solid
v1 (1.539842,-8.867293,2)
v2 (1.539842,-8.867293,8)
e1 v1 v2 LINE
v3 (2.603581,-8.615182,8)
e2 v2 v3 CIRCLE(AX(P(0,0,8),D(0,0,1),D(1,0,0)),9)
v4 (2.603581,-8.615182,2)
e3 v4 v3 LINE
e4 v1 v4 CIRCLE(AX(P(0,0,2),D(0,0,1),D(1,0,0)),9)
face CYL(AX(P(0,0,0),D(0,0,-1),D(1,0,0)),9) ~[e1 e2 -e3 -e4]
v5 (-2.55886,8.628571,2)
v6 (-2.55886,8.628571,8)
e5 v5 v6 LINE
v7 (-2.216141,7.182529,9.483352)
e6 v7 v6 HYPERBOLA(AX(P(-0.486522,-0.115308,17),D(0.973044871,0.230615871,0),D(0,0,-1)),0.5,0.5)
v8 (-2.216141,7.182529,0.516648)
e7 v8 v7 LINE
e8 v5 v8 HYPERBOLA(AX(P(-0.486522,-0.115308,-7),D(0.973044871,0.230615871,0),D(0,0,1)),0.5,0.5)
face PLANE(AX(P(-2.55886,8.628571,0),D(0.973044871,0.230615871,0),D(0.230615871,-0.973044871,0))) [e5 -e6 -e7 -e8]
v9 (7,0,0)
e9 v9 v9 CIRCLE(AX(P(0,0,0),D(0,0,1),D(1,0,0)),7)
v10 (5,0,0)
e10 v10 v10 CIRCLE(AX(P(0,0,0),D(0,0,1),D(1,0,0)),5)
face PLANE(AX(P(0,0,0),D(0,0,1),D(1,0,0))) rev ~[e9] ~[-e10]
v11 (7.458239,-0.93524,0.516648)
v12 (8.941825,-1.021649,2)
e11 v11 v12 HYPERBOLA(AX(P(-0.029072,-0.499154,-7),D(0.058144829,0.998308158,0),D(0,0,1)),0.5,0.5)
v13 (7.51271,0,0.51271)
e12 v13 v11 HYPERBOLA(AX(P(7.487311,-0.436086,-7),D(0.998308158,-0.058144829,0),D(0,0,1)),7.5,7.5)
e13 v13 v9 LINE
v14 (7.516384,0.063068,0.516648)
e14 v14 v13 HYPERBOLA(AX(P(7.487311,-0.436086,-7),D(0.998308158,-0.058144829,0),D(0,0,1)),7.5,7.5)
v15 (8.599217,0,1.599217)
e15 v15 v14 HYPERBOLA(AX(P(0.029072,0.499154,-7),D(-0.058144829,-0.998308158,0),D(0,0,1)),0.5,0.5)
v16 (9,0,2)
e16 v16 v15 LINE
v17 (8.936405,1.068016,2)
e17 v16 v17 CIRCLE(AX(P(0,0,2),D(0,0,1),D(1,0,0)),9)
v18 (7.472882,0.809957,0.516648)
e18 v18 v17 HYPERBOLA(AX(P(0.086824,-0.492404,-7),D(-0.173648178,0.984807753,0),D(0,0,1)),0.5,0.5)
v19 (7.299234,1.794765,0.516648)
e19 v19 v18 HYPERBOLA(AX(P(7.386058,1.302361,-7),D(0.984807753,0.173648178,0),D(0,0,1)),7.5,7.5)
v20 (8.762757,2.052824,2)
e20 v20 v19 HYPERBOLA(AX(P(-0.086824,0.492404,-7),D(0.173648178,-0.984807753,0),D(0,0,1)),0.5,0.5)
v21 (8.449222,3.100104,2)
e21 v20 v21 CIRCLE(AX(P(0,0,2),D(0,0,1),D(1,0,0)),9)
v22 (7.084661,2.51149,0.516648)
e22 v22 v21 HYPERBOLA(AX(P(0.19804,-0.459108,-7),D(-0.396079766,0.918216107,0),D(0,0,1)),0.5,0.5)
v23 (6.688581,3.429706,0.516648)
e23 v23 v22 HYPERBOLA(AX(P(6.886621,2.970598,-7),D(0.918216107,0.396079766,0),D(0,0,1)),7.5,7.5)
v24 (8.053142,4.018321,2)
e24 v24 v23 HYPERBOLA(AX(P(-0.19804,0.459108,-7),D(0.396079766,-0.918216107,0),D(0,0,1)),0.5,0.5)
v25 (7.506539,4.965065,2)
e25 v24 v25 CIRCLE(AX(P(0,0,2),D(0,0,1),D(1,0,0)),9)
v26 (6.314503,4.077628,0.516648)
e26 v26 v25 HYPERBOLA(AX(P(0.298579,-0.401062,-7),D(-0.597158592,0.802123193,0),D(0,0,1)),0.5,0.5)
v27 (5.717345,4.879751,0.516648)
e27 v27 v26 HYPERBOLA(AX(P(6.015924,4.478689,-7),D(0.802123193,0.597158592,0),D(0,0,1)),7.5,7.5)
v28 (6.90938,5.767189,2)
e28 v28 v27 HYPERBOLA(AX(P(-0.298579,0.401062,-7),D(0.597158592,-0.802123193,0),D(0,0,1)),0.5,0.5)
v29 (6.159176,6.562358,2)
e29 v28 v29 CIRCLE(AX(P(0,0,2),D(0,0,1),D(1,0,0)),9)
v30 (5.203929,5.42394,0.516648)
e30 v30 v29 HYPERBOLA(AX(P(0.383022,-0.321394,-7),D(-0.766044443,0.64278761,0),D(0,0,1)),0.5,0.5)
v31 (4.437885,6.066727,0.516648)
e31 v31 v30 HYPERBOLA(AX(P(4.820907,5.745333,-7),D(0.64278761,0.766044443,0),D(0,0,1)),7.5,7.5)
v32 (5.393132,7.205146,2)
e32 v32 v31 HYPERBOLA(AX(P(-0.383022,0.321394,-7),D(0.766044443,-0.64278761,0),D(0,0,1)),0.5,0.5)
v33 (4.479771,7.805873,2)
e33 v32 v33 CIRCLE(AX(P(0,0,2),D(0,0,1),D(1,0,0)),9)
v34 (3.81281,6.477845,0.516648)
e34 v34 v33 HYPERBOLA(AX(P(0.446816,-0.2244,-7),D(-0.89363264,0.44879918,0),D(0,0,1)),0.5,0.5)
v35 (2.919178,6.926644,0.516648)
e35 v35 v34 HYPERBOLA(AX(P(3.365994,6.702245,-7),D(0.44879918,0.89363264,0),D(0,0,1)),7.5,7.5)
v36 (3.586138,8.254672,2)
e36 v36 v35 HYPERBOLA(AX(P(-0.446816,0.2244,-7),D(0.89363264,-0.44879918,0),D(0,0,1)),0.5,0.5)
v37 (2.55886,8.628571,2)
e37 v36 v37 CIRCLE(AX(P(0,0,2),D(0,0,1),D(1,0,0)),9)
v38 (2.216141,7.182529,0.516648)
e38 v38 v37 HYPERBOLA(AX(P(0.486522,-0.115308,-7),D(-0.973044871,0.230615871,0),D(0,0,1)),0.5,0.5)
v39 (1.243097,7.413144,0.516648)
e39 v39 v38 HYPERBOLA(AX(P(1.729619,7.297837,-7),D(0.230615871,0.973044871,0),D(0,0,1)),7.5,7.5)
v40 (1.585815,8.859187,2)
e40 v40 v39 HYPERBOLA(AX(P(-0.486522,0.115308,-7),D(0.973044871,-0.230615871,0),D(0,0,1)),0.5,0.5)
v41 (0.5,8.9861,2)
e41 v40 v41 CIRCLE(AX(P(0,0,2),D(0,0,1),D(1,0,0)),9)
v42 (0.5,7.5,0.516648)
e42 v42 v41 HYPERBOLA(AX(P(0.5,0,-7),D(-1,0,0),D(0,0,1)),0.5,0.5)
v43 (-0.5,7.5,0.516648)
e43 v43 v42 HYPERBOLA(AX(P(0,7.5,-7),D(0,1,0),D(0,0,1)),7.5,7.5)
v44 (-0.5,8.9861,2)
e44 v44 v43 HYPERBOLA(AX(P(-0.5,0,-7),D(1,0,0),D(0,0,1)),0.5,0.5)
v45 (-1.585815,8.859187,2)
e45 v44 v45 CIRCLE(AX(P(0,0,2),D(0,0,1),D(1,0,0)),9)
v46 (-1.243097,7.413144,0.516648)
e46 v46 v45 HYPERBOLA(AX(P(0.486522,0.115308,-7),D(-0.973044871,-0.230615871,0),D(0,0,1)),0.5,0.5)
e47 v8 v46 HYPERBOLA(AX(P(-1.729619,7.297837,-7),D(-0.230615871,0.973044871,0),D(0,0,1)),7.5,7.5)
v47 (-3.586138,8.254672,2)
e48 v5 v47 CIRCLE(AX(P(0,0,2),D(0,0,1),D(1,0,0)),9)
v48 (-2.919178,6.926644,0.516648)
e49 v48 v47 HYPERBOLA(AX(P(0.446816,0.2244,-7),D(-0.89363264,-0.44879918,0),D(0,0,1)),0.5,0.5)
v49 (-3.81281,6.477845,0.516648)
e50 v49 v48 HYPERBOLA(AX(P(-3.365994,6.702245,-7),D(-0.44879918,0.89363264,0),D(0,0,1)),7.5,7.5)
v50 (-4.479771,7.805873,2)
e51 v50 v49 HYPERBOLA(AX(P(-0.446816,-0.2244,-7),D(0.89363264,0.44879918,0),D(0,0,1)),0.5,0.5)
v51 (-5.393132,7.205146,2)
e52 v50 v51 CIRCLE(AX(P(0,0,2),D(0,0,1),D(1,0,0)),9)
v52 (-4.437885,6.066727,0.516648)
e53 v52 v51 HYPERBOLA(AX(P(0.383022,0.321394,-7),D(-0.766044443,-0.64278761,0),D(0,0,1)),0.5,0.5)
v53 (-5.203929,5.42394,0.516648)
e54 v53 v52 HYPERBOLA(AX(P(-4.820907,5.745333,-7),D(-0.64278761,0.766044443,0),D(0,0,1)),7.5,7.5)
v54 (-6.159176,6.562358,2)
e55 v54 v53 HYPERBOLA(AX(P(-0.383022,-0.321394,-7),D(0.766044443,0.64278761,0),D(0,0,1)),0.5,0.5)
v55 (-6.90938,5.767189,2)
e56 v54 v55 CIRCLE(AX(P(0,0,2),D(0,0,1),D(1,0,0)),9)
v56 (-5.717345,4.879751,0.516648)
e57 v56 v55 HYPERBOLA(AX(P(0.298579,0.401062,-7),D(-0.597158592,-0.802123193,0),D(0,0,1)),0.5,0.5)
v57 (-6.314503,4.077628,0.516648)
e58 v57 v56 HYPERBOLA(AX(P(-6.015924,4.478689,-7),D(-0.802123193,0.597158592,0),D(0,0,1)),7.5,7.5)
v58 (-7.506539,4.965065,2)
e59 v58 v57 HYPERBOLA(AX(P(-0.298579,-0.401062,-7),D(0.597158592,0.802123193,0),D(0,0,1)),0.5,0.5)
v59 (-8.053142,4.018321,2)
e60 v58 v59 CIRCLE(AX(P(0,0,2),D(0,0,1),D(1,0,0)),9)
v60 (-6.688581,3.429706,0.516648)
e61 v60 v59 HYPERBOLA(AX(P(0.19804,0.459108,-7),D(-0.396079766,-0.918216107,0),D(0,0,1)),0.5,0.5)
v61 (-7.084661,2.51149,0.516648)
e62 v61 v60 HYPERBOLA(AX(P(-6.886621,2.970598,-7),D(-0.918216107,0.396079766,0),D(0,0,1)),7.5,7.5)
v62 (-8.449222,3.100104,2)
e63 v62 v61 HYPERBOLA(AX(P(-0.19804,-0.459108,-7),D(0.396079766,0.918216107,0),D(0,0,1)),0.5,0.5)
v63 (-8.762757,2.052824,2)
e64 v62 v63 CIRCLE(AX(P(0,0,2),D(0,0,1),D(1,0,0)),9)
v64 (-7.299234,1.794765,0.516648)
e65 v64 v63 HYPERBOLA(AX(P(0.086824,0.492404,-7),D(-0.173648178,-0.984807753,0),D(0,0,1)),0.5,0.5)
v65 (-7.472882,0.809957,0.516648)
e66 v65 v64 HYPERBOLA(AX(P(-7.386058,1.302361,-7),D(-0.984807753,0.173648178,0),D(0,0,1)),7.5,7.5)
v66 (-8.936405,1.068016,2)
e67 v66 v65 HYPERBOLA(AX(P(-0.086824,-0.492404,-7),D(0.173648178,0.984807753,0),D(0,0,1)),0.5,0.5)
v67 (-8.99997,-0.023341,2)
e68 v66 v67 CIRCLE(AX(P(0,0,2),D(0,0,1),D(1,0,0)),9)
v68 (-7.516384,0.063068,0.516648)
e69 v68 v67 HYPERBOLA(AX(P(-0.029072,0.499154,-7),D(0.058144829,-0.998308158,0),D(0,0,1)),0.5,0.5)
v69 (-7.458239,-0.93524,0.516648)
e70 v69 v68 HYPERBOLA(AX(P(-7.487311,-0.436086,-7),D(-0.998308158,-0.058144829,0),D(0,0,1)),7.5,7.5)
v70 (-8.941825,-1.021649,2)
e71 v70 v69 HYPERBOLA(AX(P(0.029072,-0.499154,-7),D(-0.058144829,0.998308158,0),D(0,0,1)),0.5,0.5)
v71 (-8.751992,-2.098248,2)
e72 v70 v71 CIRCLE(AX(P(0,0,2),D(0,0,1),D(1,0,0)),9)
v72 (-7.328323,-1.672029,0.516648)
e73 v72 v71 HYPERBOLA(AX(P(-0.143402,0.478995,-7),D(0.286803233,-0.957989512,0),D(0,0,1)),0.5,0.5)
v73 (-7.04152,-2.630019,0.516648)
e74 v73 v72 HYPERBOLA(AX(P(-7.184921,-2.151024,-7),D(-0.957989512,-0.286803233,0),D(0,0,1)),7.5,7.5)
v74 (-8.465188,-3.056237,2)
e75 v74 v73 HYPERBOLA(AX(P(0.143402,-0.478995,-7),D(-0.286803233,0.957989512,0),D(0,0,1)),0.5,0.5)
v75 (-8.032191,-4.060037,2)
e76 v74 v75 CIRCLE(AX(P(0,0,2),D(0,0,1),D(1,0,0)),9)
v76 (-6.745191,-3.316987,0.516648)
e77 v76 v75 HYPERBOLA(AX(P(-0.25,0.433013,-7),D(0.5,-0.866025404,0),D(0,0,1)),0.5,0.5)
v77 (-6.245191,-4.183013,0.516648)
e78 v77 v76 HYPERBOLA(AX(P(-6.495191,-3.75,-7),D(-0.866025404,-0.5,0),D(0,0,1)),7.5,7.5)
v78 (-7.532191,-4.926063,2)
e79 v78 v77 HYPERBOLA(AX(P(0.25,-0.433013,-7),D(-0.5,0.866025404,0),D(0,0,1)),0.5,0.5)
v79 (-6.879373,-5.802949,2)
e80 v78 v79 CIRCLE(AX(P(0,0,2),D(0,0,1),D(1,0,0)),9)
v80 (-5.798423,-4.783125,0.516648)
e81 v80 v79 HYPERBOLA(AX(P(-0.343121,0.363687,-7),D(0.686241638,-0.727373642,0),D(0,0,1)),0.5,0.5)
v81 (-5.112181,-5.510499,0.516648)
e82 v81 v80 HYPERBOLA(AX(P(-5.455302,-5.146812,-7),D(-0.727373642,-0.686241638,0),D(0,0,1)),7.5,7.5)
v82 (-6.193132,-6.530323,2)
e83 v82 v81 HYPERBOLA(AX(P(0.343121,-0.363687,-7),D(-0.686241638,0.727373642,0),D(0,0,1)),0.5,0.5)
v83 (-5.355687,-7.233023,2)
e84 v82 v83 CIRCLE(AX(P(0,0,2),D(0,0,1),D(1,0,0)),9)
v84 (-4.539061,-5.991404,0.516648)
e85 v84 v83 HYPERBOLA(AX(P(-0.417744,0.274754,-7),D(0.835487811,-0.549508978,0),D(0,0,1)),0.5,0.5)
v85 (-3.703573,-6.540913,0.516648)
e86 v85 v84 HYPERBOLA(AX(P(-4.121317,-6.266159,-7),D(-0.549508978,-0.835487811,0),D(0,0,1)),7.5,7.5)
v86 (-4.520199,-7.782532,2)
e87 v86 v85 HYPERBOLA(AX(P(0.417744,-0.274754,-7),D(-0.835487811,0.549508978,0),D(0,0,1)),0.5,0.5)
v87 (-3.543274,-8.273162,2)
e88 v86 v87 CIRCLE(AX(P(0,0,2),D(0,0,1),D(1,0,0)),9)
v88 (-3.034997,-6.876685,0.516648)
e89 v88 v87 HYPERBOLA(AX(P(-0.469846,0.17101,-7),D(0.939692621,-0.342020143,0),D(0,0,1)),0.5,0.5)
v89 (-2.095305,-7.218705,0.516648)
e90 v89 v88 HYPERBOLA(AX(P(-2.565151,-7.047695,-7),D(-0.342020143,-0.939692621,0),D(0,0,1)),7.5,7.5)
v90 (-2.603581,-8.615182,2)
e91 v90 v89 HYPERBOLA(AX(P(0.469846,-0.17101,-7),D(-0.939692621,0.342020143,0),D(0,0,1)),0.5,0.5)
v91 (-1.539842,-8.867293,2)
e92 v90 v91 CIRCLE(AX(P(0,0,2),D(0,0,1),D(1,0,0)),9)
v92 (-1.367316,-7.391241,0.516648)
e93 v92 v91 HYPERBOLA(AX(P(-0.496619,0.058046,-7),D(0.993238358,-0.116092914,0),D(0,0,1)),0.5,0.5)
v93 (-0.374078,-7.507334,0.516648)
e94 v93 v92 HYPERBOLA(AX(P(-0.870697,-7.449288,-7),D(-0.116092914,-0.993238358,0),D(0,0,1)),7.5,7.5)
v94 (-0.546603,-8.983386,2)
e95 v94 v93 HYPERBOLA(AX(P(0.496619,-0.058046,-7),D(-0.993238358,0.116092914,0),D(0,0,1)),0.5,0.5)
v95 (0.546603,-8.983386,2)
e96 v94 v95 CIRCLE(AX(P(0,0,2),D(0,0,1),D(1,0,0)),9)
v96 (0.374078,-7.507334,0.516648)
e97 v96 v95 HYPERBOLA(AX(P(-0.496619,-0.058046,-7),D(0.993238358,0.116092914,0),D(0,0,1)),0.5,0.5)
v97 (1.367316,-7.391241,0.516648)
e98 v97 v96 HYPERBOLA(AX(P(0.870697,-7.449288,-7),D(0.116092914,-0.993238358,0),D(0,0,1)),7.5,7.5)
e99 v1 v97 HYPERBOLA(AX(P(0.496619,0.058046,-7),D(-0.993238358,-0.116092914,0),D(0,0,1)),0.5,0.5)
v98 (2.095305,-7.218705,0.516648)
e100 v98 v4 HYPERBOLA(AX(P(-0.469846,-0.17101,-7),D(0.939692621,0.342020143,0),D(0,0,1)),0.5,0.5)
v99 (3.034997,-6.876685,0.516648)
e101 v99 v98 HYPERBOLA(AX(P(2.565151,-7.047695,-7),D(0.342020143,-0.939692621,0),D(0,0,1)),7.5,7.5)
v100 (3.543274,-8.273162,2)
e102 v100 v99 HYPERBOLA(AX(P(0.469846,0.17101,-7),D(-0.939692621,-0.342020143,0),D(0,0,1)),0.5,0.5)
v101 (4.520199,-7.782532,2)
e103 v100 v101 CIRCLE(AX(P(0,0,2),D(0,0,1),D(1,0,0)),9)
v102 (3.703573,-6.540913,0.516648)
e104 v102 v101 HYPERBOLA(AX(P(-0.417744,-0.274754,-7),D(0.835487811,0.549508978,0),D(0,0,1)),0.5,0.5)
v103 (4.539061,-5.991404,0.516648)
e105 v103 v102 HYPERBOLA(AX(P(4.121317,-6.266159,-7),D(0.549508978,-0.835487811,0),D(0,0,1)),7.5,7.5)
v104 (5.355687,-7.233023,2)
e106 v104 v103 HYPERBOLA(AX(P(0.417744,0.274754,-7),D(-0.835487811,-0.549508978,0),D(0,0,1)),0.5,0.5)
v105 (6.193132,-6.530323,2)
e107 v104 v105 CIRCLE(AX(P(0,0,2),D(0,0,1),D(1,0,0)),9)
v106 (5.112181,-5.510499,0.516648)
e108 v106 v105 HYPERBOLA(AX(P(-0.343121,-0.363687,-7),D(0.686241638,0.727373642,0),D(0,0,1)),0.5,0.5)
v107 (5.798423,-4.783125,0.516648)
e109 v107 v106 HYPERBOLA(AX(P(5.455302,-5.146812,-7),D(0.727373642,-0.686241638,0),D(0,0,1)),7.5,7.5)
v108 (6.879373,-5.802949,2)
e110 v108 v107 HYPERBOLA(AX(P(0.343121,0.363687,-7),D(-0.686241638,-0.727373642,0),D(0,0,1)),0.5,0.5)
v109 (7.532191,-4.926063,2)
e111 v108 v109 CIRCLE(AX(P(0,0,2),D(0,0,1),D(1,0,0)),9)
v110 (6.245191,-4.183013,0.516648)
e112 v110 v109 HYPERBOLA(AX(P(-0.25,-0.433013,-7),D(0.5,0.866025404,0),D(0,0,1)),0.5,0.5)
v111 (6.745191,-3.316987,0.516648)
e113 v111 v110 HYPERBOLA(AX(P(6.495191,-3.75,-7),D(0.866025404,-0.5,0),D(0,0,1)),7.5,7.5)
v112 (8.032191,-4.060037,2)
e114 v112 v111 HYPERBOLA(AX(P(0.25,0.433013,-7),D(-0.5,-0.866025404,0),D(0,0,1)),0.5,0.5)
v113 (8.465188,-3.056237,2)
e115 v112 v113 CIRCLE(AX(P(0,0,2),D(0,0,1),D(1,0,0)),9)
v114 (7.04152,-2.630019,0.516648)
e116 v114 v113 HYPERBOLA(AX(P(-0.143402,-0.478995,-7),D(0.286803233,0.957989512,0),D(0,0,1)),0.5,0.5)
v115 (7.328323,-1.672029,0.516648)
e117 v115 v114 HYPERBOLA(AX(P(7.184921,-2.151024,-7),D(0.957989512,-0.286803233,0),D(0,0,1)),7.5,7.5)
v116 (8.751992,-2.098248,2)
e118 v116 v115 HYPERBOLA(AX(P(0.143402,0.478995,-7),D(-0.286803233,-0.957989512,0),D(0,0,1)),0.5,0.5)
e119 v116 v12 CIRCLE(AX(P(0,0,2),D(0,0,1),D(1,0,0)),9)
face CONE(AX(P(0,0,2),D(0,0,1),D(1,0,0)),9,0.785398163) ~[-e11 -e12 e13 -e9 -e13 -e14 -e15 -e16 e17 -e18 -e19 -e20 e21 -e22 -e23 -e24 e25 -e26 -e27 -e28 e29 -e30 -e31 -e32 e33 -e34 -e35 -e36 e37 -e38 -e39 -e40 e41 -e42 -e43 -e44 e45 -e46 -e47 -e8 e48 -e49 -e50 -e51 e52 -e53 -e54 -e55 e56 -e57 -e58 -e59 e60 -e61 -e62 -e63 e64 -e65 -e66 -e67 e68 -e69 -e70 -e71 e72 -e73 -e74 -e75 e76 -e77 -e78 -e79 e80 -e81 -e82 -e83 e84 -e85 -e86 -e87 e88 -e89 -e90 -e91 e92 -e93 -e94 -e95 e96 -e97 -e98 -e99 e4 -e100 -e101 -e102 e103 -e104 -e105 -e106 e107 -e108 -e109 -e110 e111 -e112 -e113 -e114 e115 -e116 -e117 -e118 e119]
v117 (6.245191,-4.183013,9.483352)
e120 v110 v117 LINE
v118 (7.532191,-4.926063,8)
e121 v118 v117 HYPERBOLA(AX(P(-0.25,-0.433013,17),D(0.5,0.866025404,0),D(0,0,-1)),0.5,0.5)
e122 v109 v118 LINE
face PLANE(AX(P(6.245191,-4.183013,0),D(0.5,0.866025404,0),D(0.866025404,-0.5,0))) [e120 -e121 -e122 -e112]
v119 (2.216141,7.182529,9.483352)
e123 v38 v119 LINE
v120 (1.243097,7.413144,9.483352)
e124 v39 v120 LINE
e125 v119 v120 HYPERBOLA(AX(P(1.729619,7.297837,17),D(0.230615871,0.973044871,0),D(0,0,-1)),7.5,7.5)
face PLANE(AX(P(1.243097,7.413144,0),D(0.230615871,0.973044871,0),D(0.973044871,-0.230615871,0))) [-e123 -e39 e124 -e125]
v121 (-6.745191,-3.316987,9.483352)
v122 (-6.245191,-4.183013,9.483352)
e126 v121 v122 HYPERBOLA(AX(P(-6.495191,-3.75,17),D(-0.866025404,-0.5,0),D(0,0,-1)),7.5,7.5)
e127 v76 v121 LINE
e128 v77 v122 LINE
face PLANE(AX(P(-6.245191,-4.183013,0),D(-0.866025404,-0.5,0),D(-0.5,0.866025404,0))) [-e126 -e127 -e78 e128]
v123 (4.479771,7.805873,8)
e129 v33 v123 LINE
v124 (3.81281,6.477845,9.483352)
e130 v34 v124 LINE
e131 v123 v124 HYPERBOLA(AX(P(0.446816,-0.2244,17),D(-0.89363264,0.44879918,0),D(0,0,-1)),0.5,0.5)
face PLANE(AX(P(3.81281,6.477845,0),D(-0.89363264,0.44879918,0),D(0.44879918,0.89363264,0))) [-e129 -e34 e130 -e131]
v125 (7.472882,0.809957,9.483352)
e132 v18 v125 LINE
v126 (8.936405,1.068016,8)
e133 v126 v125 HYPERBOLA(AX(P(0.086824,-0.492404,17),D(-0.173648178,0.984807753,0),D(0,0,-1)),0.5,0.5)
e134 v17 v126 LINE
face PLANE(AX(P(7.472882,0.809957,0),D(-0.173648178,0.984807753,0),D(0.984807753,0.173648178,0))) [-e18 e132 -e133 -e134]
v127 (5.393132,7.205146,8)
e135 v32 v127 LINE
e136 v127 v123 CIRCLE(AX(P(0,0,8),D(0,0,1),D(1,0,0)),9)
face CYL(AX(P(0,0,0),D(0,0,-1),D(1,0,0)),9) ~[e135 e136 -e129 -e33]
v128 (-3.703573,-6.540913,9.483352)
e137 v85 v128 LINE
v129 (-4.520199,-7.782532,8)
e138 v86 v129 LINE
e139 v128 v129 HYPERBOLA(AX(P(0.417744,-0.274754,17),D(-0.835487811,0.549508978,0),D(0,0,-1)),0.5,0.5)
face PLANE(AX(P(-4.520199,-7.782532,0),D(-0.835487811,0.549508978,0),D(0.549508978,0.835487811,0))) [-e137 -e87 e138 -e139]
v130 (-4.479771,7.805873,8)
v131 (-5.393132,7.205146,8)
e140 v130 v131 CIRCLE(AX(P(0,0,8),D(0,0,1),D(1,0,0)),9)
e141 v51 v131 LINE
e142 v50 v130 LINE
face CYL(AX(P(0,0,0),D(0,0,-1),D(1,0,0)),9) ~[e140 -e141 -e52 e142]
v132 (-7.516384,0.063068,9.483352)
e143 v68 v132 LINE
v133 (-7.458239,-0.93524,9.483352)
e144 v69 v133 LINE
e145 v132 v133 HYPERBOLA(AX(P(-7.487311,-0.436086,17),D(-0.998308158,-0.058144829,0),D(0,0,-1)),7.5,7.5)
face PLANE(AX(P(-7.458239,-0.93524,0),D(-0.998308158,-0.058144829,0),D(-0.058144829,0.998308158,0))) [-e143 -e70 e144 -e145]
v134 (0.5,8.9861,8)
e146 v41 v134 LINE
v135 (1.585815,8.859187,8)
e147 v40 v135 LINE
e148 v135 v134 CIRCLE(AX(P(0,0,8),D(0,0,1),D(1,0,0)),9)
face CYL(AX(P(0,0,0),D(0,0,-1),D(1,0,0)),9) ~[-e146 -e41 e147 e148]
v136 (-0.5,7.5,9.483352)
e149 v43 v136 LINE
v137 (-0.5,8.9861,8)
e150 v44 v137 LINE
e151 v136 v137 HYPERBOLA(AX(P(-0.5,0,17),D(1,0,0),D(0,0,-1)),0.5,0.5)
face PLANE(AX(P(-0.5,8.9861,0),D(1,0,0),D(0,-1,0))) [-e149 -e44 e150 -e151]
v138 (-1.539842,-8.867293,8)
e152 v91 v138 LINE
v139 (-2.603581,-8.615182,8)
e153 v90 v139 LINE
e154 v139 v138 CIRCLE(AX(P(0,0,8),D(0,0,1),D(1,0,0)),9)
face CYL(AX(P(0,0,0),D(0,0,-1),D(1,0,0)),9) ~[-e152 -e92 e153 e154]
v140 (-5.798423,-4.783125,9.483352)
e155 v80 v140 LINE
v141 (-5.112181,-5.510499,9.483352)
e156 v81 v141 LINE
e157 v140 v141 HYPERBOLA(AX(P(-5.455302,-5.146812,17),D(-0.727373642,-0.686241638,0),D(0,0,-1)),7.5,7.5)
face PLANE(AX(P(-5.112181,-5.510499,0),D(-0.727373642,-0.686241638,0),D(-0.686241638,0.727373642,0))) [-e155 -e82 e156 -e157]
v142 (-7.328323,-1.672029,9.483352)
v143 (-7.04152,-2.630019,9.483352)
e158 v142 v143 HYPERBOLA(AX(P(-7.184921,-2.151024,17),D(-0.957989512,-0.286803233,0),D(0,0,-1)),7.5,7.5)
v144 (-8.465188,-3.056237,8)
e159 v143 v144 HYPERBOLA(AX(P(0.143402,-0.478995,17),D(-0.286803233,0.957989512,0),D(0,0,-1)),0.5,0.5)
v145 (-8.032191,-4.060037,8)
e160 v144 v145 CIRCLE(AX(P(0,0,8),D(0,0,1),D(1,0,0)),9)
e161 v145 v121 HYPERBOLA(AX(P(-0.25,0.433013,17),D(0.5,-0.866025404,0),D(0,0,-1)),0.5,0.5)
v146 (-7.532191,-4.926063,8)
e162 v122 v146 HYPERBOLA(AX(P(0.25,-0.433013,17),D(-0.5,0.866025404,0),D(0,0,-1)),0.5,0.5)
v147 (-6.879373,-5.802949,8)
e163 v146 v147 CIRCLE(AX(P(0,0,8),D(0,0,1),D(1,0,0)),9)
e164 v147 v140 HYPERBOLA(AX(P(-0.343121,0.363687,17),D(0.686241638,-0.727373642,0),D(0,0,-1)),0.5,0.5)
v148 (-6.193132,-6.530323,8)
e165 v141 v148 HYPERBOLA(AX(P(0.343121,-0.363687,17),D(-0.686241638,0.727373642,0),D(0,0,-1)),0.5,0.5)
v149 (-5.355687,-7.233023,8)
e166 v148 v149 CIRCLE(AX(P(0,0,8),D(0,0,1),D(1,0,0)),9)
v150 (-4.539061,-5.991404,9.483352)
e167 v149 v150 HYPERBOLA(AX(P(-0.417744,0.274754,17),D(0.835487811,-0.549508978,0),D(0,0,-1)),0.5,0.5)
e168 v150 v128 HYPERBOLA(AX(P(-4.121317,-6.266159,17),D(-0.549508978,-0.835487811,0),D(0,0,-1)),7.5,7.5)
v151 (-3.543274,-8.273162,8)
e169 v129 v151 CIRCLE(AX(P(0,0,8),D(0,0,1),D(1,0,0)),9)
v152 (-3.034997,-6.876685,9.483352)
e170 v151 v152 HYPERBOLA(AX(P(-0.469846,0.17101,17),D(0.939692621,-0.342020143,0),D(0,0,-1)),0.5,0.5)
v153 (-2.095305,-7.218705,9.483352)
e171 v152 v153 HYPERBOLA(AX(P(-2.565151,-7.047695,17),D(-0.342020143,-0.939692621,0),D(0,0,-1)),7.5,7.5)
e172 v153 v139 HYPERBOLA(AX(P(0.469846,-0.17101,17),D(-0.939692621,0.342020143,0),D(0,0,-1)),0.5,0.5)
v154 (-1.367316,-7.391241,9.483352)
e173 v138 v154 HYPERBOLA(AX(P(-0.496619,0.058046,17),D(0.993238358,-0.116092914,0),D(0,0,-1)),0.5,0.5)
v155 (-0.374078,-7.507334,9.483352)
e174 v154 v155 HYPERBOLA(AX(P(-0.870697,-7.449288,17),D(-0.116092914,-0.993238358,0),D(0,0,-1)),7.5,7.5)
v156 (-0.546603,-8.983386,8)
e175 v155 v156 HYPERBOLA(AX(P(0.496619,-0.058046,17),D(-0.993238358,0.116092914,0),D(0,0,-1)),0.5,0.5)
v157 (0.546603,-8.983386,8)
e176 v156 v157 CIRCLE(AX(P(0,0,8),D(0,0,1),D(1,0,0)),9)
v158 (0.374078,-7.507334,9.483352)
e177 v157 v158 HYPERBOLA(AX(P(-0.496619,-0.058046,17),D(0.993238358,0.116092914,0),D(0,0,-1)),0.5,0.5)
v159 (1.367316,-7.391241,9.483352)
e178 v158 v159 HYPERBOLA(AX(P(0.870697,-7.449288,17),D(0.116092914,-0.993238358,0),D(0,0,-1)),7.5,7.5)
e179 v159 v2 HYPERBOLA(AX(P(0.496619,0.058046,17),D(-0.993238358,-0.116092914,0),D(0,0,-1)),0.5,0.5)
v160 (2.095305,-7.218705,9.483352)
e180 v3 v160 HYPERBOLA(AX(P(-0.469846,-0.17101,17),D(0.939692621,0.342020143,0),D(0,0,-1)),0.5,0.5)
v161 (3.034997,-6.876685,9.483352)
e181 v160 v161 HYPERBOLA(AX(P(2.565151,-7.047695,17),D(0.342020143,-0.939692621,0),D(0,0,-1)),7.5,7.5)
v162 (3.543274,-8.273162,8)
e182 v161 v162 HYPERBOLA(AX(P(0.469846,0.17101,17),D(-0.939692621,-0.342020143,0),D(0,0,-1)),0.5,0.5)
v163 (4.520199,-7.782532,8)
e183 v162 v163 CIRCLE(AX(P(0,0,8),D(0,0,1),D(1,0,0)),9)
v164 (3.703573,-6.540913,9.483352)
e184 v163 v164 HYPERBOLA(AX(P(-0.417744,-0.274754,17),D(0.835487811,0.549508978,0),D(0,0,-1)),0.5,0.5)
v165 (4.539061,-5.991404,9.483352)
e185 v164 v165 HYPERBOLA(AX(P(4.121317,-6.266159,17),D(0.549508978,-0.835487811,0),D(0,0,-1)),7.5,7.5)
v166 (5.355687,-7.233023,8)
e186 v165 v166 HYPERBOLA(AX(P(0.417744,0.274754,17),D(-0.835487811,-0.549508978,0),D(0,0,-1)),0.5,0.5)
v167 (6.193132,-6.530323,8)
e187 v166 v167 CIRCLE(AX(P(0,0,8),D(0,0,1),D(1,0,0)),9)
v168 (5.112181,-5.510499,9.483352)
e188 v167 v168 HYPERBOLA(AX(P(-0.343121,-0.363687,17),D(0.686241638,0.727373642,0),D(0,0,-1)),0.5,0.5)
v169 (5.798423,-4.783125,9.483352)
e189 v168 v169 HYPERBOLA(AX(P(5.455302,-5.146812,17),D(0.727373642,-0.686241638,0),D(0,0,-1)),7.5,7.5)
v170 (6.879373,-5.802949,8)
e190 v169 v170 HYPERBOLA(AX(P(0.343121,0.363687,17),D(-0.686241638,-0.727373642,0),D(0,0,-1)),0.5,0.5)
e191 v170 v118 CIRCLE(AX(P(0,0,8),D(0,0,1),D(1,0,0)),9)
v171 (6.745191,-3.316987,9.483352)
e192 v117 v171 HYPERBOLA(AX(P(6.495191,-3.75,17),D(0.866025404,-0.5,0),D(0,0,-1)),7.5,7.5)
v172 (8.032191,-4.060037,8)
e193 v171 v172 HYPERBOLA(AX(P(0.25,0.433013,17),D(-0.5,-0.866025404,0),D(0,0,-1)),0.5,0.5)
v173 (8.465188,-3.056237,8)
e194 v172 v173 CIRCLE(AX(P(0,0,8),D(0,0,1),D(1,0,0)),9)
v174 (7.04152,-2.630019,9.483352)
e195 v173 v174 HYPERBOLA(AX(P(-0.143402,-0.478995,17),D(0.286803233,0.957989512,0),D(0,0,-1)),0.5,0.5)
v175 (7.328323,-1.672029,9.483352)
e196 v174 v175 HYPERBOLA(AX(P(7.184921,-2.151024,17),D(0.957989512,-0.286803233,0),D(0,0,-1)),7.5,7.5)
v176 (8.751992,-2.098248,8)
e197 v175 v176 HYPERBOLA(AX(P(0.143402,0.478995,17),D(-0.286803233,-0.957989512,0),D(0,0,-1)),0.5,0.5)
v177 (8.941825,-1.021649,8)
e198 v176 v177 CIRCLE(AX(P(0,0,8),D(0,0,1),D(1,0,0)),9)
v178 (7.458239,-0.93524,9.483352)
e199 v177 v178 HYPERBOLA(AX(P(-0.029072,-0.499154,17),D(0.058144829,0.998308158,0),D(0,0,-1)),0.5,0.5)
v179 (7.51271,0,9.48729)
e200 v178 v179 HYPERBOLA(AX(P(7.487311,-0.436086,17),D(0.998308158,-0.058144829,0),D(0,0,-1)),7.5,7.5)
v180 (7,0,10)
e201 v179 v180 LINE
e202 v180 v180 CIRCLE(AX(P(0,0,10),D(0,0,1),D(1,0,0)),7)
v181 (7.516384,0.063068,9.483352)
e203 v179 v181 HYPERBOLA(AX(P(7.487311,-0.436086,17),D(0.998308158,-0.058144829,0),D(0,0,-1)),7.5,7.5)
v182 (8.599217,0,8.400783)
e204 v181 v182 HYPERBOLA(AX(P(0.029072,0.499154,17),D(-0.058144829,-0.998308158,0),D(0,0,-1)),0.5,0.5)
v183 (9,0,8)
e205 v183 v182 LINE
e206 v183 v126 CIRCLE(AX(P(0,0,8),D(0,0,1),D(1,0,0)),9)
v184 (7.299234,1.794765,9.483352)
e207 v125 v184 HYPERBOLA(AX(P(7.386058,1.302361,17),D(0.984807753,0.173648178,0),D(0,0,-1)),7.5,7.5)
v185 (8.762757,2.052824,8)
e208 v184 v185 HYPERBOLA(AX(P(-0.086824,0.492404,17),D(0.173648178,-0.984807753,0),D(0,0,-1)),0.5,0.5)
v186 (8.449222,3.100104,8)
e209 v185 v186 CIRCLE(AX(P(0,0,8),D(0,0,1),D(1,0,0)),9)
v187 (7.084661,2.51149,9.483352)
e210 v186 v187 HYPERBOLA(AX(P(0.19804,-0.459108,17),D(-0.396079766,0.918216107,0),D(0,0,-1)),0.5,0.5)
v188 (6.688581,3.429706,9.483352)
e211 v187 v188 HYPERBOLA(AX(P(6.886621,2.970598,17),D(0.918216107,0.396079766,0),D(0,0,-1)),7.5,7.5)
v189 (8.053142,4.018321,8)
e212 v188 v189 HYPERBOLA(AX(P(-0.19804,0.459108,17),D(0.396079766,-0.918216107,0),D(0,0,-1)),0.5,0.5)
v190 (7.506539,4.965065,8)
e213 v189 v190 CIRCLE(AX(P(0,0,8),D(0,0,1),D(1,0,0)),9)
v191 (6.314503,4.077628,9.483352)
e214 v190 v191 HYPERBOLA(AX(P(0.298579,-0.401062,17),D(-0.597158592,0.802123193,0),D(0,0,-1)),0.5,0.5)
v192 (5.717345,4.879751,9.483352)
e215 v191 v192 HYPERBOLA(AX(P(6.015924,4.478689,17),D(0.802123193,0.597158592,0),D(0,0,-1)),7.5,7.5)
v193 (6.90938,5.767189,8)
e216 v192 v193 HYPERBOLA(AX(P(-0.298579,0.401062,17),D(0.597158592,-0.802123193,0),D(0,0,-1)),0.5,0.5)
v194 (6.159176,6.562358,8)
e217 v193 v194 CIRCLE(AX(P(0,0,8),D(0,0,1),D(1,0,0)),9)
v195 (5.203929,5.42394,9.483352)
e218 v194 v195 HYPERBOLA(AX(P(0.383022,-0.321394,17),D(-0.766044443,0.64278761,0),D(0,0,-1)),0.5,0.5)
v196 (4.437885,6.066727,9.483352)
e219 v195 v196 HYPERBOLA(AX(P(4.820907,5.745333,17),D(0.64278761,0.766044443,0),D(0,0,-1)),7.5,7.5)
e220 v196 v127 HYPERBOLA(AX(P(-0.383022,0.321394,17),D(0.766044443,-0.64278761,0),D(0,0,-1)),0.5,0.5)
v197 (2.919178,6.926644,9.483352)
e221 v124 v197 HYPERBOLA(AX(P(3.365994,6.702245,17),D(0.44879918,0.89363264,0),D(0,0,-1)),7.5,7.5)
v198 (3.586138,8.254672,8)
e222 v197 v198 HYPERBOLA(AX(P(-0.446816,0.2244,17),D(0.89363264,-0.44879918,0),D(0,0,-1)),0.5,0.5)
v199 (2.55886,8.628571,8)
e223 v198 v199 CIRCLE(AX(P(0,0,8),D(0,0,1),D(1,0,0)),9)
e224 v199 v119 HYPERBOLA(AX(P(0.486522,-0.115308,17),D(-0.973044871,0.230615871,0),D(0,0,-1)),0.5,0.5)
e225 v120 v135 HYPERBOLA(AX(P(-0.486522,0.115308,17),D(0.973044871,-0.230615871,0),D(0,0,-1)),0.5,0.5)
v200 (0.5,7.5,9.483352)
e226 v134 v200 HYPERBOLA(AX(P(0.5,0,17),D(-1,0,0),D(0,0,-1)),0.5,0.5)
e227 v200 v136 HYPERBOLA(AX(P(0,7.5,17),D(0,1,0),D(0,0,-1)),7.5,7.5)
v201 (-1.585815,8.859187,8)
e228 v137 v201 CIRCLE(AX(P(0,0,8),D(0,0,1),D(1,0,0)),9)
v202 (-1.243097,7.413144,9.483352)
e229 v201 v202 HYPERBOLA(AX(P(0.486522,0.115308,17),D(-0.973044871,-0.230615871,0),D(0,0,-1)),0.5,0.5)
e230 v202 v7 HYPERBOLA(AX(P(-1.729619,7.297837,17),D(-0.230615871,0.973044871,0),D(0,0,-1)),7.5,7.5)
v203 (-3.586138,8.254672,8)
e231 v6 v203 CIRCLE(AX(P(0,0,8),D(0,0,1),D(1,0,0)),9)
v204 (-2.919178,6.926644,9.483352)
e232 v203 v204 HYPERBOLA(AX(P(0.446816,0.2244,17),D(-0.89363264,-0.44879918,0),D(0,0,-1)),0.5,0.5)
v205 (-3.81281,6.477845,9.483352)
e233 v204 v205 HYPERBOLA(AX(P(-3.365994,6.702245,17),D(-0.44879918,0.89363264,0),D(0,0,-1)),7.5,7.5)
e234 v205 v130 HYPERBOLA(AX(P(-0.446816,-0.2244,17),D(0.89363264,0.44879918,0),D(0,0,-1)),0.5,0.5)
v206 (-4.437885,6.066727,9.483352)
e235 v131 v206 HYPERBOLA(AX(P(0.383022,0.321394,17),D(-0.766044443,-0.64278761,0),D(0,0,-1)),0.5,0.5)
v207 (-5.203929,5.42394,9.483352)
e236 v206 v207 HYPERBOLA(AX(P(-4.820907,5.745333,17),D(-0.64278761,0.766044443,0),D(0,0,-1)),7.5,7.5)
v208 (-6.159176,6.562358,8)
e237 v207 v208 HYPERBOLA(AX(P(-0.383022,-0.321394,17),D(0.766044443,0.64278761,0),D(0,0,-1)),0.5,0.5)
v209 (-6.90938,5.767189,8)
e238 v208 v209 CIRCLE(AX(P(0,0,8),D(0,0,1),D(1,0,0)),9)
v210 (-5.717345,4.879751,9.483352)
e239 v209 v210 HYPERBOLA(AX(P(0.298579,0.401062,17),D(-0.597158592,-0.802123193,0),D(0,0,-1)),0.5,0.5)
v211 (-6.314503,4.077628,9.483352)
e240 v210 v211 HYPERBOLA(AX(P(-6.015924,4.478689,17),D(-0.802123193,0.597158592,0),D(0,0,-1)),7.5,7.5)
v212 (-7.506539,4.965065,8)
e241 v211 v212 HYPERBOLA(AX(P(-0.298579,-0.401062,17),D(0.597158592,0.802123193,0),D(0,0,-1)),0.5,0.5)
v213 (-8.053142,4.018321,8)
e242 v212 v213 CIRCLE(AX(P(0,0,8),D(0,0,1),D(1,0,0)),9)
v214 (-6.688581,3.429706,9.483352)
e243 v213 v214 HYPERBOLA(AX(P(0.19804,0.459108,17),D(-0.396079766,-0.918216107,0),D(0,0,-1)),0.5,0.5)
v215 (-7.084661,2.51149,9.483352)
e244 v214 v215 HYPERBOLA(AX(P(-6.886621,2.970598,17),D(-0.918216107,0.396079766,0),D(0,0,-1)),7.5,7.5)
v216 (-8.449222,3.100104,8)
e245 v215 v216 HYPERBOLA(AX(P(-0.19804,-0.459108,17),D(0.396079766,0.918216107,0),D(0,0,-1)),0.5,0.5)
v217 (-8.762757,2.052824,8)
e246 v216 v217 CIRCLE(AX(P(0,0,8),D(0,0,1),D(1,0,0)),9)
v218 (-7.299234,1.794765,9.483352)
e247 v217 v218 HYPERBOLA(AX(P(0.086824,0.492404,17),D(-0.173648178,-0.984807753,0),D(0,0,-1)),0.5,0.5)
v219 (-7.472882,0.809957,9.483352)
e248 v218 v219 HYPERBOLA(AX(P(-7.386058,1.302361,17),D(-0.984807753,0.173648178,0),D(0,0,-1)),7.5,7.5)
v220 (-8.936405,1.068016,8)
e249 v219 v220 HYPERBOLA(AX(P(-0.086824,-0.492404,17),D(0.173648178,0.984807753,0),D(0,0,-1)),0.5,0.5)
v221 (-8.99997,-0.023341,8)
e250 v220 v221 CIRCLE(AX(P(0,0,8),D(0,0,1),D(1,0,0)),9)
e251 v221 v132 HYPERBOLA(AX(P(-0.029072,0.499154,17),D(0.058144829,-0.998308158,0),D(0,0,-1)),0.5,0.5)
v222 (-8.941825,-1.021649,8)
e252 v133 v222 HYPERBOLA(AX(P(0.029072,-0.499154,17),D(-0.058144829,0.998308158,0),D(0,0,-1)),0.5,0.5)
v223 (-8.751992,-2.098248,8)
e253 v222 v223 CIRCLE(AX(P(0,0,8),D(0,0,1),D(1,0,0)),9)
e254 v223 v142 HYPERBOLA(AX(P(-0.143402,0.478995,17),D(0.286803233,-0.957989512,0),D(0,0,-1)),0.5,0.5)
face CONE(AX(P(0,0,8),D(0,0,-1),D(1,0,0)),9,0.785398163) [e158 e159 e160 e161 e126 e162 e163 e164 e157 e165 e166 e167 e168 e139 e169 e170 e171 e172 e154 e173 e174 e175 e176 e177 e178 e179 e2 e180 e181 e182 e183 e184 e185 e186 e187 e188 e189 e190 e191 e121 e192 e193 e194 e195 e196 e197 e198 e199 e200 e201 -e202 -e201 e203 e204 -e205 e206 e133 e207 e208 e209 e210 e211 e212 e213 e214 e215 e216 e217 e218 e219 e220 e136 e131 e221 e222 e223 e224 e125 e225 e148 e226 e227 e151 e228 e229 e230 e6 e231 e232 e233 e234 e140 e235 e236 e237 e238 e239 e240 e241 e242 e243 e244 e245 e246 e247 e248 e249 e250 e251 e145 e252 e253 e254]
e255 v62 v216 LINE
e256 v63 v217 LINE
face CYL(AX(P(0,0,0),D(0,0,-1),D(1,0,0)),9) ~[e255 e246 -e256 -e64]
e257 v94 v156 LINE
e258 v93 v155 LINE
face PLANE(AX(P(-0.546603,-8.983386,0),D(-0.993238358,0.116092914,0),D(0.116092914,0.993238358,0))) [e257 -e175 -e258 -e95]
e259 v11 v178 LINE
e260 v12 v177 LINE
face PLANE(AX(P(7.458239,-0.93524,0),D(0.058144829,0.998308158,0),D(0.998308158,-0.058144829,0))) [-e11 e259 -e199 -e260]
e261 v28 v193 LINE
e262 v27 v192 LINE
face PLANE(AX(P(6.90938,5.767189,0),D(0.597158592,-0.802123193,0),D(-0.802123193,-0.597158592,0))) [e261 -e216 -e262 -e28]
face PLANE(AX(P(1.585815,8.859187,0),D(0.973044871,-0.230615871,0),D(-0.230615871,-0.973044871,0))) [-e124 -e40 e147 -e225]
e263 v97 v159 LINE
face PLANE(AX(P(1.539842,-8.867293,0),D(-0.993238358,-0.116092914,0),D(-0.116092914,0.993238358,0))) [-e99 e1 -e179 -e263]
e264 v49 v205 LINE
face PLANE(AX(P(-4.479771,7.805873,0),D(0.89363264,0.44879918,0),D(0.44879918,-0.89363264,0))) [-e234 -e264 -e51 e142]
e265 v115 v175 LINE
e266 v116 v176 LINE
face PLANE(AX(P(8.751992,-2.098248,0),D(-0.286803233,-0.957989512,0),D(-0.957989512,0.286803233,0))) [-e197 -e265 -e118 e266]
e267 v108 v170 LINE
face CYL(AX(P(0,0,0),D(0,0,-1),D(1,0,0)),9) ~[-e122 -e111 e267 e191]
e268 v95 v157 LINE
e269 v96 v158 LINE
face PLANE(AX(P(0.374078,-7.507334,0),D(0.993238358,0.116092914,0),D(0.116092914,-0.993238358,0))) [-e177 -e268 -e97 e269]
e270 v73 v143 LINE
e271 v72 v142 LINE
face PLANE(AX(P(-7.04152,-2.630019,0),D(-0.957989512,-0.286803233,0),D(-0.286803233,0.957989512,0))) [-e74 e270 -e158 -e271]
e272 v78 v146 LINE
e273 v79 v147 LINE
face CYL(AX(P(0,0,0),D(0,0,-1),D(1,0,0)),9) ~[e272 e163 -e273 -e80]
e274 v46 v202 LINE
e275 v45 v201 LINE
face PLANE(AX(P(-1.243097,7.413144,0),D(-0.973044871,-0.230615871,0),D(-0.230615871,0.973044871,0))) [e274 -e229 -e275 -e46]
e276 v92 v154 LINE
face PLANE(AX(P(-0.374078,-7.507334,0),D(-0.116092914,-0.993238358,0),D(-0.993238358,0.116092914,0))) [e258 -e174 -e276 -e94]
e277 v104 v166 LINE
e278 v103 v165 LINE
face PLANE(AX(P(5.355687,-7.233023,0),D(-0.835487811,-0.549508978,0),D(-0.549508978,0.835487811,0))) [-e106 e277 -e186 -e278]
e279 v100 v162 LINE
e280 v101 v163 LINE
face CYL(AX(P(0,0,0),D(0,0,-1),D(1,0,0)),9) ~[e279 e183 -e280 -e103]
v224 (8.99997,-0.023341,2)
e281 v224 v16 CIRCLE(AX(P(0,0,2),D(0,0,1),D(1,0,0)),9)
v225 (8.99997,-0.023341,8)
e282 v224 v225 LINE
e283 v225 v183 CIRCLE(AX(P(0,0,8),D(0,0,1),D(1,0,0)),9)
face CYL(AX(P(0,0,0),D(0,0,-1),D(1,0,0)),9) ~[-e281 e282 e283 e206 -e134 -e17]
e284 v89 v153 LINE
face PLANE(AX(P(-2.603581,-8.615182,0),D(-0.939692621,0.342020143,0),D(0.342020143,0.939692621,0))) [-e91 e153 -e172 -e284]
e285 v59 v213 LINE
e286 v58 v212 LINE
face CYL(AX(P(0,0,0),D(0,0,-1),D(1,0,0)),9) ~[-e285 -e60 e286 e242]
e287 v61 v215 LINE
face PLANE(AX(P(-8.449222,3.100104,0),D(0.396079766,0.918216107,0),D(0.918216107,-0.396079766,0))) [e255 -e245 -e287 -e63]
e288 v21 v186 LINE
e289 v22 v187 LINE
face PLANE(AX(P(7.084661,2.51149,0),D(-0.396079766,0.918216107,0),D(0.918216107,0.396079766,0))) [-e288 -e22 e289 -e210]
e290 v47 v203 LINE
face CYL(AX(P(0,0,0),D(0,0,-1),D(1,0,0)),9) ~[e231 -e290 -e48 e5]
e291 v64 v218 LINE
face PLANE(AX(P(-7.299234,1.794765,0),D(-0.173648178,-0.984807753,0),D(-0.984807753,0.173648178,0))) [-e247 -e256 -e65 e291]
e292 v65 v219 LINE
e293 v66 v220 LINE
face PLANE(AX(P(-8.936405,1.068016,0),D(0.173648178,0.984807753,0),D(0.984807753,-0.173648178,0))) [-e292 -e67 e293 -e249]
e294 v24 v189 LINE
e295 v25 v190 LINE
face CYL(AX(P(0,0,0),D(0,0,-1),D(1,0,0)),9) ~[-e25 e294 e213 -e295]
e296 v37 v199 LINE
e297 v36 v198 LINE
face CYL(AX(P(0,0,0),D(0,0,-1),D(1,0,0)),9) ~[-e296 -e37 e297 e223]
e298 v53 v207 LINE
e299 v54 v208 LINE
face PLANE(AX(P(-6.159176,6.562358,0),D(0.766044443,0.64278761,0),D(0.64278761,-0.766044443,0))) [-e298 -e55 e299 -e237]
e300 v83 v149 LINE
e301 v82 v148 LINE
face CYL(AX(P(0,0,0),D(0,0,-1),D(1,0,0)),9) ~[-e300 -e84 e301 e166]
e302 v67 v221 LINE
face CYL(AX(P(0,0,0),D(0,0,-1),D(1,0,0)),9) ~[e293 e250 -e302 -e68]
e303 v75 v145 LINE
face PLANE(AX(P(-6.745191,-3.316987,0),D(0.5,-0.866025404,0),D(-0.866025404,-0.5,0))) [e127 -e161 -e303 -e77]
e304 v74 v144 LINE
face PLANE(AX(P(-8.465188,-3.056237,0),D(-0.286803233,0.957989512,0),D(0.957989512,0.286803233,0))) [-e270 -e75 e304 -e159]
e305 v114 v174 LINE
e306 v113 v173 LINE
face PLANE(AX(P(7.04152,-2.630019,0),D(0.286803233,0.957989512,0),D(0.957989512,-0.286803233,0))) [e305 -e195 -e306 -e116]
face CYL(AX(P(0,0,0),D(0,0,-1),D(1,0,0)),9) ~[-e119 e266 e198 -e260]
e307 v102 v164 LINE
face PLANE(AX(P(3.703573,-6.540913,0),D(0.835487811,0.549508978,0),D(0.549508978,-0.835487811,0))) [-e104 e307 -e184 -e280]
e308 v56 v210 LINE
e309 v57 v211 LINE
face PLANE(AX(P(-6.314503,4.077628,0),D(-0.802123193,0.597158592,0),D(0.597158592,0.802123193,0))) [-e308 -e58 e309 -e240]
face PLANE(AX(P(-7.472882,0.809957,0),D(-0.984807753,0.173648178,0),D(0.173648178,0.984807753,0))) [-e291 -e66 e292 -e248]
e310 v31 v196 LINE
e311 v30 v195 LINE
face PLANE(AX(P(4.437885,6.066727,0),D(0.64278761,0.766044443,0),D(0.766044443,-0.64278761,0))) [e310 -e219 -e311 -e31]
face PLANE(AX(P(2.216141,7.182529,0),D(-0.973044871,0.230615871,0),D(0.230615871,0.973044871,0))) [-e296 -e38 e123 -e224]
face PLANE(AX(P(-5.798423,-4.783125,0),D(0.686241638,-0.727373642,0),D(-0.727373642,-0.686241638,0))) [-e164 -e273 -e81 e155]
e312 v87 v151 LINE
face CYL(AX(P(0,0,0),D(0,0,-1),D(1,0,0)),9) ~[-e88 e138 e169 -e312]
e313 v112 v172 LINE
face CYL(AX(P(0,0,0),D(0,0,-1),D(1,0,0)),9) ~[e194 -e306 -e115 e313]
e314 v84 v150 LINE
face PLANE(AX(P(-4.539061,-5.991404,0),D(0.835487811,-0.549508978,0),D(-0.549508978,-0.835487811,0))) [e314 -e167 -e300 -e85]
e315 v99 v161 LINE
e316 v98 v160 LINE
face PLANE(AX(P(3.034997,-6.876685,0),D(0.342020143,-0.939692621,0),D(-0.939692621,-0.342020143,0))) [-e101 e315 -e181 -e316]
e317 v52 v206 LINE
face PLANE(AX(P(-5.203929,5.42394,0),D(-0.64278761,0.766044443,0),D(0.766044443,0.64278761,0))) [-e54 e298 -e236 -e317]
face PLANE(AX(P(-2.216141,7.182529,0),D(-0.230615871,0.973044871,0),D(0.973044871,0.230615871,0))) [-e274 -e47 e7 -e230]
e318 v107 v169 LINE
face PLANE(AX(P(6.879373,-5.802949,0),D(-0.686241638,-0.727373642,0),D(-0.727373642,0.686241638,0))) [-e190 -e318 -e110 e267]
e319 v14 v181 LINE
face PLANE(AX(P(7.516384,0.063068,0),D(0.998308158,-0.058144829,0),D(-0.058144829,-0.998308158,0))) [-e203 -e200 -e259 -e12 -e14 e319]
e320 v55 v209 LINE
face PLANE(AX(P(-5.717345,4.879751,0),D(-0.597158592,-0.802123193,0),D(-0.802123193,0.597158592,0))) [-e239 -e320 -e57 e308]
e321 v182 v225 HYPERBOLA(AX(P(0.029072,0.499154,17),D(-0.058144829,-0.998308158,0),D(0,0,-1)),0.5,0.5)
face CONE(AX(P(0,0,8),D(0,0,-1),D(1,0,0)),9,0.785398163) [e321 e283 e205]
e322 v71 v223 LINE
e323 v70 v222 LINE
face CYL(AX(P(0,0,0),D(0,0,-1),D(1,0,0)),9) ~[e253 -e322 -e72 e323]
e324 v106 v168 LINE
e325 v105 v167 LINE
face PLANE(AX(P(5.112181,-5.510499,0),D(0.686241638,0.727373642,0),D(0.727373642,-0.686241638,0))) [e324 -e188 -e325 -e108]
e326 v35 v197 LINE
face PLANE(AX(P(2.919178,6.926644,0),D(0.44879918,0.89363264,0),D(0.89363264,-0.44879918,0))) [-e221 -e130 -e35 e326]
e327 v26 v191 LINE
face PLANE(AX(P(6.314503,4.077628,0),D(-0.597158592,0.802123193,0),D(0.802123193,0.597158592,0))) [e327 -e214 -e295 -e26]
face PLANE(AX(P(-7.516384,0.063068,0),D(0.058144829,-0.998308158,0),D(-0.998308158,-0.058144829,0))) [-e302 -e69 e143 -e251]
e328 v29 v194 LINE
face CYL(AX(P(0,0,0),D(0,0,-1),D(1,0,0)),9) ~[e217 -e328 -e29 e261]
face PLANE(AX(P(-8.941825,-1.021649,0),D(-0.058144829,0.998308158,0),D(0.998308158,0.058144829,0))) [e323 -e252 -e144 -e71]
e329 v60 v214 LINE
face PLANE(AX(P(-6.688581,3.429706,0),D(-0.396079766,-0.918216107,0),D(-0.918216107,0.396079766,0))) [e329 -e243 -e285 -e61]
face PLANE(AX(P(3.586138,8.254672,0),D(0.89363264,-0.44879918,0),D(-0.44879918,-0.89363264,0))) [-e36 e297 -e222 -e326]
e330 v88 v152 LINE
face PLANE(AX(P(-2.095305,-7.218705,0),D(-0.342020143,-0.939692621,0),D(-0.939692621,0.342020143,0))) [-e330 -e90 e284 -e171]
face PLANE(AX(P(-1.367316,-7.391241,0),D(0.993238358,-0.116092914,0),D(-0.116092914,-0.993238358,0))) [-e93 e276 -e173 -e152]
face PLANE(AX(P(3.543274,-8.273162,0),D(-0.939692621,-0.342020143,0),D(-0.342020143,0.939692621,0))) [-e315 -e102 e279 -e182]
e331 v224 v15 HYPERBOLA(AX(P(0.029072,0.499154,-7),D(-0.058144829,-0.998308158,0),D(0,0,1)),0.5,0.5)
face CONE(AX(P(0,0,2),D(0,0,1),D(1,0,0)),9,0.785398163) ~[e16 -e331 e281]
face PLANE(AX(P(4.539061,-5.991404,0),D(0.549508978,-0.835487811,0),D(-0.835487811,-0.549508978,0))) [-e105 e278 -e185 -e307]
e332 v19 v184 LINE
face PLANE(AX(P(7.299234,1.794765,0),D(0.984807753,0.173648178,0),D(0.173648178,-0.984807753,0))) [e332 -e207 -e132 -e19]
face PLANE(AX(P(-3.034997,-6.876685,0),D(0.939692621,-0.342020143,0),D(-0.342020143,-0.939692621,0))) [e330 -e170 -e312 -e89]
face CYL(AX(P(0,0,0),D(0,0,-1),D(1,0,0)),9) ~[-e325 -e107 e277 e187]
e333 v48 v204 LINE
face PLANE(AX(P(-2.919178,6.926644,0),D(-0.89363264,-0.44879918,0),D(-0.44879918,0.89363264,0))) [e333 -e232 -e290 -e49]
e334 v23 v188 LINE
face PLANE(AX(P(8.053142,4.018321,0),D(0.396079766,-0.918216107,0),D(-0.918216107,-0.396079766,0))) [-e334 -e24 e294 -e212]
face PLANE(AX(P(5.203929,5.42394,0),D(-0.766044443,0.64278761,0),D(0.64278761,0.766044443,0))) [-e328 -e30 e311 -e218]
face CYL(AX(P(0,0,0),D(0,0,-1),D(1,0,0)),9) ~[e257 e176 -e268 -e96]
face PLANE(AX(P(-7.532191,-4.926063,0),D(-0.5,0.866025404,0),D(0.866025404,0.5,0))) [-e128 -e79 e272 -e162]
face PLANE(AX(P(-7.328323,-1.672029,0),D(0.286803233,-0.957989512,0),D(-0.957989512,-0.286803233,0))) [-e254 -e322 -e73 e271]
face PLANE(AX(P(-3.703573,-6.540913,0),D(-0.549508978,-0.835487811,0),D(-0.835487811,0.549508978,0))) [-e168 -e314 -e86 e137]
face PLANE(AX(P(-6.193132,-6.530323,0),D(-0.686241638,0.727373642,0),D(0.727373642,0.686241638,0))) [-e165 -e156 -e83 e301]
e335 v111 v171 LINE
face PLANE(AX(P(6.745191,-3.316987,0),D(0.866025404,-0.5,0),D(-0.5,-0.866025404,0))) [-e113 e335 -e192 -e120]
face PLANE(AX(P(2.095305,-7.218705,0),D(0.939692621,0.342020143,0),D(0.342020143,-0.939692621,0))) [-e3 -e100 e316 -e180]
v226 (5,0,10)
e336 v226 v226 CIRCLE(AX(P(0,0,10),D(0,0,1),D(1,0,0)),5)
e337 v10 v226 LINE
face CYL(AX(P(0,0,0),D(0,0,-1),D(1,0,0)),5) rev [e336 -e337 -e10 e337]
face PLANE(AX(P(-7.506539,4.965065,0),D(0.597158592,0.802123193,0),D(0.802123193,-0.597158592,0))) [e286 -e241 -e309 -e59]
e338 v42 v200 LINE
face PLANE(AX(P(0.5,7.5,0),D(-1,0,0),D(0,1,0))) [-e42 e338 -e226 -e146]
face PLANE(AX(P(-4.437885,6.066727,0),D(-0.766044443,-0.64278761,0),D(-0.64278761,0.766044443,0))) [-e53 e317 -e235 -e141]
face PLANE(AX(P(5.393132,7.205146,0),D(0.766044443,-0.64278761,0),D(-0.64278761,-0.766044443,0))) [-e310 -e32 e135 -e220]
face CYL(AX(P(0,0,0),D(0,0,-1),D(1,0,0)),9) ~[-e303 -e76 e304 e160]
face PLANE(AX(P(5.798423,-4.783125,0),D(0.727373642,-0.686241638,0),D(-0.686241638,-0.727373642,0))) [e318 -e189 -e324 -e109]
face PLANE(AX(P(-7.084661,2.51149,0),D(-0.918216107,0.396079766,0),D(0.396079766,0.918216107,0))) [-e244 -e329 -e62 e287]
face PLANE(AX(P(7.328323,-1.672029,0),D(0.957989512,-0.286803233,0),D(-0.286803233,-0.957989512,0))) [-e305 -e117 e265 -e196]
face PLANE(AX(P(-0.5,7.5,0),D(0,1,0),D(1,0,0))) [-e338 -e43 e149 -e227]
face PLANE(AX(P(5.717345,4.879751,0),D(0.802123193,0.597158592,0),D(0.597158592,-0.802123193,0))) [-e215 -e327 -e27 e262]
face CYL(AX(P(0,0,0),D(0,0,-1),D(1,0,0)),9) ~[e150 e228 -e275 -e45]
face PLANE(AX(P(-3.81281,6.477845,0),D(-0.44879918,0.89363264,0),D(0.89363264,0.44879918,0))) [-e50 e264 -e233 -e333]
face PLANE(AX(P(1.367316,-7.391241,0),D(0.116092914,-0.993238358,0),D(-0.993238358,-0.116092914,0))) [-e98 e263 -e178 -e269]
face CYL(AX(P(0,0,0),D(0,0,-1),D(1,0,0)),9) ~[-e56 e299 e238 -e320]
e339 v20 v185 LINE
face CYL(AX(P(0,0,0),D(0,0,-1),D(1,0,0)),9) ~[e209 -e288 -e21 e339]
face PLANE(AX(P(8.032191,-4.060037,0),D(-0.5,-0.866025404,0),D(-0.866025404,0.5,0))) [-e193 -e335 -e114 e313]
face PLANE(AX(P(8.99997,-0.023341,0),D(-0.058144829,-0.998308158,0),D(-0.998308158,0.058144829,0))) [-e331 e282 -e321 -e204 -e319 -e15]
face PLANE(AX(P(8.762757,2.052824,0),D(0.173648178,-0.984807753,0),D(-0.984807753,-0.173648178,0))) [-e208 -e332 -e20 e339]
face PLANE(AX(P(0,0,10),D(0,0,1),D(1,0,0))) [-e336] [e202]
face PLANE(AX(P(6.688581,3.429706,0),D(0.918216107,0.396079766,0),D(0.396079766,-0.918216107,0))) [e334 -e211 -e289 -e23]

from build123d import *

# Parameters (mm, degrees)
SKETCH1_R           = 9
SKETCH1_R_2         = 5
BOSS_EXTRUDE1_DEPTH = 10
CHAMFER1_SIZE       = 2
CUT_EXTRUDE1_DEPTH  = 11
CIRPATTERN1_COUNT   = 27


with BuildPart() as part:
    # Sketch1 → Boss-Extrude1 (new body)
    with BuildSketch(Plane.XY):
        Circle(SKETCH1_R)
        Circle(SKETCH1_R_2, mode=Mode.SUBTRACT)
    extrude(amount=BOSS_EXTRUDE1_DEPTH)

    # Chamfer1
    chamfer1_edges = [part.edges().sort_by_distance(p)[0] for p in [
        (-9, 0, 10),
        (-9, 0, 0),
    ]]
    chamfer(chamfer1_edges, length=CHAMFER1_SIZE)

    # Sketch2 → Cut-Extrude1 (cut, through all)
    with BuildSketch(Plane.XY):
        with BuildLine():
            Line((-0.5, 7.5), (0.5, 7.5))
            Line((0.5, 7.5), (0.5, 8.986100378))
            ThreePointArc((0.5, 8.986100378), (0, 9), (-0.5, 8.986100378))
            Line((-0.5, 8.986100378), (-0.5, 7.5))
        make_face()
    cut_extrude1 = extrude(amount=CUT_EXTRUDE1_DEPTH, mode=Mode.SUBTRACT)

    # CirPattern1: Cut-Extrude1 ×27 about axis
    cirpattern1_axis = Axis((0, 0, 0), (0, 0, 1))
    for i in range(1, CIRPATTERN1_COUNT):
        add(cut_extrude1.rotate(cirpattern1_axis, i * 360 / CIRPATTERN1_COUNT), mode=Mode.SUBTRACT)


solid = part.part
